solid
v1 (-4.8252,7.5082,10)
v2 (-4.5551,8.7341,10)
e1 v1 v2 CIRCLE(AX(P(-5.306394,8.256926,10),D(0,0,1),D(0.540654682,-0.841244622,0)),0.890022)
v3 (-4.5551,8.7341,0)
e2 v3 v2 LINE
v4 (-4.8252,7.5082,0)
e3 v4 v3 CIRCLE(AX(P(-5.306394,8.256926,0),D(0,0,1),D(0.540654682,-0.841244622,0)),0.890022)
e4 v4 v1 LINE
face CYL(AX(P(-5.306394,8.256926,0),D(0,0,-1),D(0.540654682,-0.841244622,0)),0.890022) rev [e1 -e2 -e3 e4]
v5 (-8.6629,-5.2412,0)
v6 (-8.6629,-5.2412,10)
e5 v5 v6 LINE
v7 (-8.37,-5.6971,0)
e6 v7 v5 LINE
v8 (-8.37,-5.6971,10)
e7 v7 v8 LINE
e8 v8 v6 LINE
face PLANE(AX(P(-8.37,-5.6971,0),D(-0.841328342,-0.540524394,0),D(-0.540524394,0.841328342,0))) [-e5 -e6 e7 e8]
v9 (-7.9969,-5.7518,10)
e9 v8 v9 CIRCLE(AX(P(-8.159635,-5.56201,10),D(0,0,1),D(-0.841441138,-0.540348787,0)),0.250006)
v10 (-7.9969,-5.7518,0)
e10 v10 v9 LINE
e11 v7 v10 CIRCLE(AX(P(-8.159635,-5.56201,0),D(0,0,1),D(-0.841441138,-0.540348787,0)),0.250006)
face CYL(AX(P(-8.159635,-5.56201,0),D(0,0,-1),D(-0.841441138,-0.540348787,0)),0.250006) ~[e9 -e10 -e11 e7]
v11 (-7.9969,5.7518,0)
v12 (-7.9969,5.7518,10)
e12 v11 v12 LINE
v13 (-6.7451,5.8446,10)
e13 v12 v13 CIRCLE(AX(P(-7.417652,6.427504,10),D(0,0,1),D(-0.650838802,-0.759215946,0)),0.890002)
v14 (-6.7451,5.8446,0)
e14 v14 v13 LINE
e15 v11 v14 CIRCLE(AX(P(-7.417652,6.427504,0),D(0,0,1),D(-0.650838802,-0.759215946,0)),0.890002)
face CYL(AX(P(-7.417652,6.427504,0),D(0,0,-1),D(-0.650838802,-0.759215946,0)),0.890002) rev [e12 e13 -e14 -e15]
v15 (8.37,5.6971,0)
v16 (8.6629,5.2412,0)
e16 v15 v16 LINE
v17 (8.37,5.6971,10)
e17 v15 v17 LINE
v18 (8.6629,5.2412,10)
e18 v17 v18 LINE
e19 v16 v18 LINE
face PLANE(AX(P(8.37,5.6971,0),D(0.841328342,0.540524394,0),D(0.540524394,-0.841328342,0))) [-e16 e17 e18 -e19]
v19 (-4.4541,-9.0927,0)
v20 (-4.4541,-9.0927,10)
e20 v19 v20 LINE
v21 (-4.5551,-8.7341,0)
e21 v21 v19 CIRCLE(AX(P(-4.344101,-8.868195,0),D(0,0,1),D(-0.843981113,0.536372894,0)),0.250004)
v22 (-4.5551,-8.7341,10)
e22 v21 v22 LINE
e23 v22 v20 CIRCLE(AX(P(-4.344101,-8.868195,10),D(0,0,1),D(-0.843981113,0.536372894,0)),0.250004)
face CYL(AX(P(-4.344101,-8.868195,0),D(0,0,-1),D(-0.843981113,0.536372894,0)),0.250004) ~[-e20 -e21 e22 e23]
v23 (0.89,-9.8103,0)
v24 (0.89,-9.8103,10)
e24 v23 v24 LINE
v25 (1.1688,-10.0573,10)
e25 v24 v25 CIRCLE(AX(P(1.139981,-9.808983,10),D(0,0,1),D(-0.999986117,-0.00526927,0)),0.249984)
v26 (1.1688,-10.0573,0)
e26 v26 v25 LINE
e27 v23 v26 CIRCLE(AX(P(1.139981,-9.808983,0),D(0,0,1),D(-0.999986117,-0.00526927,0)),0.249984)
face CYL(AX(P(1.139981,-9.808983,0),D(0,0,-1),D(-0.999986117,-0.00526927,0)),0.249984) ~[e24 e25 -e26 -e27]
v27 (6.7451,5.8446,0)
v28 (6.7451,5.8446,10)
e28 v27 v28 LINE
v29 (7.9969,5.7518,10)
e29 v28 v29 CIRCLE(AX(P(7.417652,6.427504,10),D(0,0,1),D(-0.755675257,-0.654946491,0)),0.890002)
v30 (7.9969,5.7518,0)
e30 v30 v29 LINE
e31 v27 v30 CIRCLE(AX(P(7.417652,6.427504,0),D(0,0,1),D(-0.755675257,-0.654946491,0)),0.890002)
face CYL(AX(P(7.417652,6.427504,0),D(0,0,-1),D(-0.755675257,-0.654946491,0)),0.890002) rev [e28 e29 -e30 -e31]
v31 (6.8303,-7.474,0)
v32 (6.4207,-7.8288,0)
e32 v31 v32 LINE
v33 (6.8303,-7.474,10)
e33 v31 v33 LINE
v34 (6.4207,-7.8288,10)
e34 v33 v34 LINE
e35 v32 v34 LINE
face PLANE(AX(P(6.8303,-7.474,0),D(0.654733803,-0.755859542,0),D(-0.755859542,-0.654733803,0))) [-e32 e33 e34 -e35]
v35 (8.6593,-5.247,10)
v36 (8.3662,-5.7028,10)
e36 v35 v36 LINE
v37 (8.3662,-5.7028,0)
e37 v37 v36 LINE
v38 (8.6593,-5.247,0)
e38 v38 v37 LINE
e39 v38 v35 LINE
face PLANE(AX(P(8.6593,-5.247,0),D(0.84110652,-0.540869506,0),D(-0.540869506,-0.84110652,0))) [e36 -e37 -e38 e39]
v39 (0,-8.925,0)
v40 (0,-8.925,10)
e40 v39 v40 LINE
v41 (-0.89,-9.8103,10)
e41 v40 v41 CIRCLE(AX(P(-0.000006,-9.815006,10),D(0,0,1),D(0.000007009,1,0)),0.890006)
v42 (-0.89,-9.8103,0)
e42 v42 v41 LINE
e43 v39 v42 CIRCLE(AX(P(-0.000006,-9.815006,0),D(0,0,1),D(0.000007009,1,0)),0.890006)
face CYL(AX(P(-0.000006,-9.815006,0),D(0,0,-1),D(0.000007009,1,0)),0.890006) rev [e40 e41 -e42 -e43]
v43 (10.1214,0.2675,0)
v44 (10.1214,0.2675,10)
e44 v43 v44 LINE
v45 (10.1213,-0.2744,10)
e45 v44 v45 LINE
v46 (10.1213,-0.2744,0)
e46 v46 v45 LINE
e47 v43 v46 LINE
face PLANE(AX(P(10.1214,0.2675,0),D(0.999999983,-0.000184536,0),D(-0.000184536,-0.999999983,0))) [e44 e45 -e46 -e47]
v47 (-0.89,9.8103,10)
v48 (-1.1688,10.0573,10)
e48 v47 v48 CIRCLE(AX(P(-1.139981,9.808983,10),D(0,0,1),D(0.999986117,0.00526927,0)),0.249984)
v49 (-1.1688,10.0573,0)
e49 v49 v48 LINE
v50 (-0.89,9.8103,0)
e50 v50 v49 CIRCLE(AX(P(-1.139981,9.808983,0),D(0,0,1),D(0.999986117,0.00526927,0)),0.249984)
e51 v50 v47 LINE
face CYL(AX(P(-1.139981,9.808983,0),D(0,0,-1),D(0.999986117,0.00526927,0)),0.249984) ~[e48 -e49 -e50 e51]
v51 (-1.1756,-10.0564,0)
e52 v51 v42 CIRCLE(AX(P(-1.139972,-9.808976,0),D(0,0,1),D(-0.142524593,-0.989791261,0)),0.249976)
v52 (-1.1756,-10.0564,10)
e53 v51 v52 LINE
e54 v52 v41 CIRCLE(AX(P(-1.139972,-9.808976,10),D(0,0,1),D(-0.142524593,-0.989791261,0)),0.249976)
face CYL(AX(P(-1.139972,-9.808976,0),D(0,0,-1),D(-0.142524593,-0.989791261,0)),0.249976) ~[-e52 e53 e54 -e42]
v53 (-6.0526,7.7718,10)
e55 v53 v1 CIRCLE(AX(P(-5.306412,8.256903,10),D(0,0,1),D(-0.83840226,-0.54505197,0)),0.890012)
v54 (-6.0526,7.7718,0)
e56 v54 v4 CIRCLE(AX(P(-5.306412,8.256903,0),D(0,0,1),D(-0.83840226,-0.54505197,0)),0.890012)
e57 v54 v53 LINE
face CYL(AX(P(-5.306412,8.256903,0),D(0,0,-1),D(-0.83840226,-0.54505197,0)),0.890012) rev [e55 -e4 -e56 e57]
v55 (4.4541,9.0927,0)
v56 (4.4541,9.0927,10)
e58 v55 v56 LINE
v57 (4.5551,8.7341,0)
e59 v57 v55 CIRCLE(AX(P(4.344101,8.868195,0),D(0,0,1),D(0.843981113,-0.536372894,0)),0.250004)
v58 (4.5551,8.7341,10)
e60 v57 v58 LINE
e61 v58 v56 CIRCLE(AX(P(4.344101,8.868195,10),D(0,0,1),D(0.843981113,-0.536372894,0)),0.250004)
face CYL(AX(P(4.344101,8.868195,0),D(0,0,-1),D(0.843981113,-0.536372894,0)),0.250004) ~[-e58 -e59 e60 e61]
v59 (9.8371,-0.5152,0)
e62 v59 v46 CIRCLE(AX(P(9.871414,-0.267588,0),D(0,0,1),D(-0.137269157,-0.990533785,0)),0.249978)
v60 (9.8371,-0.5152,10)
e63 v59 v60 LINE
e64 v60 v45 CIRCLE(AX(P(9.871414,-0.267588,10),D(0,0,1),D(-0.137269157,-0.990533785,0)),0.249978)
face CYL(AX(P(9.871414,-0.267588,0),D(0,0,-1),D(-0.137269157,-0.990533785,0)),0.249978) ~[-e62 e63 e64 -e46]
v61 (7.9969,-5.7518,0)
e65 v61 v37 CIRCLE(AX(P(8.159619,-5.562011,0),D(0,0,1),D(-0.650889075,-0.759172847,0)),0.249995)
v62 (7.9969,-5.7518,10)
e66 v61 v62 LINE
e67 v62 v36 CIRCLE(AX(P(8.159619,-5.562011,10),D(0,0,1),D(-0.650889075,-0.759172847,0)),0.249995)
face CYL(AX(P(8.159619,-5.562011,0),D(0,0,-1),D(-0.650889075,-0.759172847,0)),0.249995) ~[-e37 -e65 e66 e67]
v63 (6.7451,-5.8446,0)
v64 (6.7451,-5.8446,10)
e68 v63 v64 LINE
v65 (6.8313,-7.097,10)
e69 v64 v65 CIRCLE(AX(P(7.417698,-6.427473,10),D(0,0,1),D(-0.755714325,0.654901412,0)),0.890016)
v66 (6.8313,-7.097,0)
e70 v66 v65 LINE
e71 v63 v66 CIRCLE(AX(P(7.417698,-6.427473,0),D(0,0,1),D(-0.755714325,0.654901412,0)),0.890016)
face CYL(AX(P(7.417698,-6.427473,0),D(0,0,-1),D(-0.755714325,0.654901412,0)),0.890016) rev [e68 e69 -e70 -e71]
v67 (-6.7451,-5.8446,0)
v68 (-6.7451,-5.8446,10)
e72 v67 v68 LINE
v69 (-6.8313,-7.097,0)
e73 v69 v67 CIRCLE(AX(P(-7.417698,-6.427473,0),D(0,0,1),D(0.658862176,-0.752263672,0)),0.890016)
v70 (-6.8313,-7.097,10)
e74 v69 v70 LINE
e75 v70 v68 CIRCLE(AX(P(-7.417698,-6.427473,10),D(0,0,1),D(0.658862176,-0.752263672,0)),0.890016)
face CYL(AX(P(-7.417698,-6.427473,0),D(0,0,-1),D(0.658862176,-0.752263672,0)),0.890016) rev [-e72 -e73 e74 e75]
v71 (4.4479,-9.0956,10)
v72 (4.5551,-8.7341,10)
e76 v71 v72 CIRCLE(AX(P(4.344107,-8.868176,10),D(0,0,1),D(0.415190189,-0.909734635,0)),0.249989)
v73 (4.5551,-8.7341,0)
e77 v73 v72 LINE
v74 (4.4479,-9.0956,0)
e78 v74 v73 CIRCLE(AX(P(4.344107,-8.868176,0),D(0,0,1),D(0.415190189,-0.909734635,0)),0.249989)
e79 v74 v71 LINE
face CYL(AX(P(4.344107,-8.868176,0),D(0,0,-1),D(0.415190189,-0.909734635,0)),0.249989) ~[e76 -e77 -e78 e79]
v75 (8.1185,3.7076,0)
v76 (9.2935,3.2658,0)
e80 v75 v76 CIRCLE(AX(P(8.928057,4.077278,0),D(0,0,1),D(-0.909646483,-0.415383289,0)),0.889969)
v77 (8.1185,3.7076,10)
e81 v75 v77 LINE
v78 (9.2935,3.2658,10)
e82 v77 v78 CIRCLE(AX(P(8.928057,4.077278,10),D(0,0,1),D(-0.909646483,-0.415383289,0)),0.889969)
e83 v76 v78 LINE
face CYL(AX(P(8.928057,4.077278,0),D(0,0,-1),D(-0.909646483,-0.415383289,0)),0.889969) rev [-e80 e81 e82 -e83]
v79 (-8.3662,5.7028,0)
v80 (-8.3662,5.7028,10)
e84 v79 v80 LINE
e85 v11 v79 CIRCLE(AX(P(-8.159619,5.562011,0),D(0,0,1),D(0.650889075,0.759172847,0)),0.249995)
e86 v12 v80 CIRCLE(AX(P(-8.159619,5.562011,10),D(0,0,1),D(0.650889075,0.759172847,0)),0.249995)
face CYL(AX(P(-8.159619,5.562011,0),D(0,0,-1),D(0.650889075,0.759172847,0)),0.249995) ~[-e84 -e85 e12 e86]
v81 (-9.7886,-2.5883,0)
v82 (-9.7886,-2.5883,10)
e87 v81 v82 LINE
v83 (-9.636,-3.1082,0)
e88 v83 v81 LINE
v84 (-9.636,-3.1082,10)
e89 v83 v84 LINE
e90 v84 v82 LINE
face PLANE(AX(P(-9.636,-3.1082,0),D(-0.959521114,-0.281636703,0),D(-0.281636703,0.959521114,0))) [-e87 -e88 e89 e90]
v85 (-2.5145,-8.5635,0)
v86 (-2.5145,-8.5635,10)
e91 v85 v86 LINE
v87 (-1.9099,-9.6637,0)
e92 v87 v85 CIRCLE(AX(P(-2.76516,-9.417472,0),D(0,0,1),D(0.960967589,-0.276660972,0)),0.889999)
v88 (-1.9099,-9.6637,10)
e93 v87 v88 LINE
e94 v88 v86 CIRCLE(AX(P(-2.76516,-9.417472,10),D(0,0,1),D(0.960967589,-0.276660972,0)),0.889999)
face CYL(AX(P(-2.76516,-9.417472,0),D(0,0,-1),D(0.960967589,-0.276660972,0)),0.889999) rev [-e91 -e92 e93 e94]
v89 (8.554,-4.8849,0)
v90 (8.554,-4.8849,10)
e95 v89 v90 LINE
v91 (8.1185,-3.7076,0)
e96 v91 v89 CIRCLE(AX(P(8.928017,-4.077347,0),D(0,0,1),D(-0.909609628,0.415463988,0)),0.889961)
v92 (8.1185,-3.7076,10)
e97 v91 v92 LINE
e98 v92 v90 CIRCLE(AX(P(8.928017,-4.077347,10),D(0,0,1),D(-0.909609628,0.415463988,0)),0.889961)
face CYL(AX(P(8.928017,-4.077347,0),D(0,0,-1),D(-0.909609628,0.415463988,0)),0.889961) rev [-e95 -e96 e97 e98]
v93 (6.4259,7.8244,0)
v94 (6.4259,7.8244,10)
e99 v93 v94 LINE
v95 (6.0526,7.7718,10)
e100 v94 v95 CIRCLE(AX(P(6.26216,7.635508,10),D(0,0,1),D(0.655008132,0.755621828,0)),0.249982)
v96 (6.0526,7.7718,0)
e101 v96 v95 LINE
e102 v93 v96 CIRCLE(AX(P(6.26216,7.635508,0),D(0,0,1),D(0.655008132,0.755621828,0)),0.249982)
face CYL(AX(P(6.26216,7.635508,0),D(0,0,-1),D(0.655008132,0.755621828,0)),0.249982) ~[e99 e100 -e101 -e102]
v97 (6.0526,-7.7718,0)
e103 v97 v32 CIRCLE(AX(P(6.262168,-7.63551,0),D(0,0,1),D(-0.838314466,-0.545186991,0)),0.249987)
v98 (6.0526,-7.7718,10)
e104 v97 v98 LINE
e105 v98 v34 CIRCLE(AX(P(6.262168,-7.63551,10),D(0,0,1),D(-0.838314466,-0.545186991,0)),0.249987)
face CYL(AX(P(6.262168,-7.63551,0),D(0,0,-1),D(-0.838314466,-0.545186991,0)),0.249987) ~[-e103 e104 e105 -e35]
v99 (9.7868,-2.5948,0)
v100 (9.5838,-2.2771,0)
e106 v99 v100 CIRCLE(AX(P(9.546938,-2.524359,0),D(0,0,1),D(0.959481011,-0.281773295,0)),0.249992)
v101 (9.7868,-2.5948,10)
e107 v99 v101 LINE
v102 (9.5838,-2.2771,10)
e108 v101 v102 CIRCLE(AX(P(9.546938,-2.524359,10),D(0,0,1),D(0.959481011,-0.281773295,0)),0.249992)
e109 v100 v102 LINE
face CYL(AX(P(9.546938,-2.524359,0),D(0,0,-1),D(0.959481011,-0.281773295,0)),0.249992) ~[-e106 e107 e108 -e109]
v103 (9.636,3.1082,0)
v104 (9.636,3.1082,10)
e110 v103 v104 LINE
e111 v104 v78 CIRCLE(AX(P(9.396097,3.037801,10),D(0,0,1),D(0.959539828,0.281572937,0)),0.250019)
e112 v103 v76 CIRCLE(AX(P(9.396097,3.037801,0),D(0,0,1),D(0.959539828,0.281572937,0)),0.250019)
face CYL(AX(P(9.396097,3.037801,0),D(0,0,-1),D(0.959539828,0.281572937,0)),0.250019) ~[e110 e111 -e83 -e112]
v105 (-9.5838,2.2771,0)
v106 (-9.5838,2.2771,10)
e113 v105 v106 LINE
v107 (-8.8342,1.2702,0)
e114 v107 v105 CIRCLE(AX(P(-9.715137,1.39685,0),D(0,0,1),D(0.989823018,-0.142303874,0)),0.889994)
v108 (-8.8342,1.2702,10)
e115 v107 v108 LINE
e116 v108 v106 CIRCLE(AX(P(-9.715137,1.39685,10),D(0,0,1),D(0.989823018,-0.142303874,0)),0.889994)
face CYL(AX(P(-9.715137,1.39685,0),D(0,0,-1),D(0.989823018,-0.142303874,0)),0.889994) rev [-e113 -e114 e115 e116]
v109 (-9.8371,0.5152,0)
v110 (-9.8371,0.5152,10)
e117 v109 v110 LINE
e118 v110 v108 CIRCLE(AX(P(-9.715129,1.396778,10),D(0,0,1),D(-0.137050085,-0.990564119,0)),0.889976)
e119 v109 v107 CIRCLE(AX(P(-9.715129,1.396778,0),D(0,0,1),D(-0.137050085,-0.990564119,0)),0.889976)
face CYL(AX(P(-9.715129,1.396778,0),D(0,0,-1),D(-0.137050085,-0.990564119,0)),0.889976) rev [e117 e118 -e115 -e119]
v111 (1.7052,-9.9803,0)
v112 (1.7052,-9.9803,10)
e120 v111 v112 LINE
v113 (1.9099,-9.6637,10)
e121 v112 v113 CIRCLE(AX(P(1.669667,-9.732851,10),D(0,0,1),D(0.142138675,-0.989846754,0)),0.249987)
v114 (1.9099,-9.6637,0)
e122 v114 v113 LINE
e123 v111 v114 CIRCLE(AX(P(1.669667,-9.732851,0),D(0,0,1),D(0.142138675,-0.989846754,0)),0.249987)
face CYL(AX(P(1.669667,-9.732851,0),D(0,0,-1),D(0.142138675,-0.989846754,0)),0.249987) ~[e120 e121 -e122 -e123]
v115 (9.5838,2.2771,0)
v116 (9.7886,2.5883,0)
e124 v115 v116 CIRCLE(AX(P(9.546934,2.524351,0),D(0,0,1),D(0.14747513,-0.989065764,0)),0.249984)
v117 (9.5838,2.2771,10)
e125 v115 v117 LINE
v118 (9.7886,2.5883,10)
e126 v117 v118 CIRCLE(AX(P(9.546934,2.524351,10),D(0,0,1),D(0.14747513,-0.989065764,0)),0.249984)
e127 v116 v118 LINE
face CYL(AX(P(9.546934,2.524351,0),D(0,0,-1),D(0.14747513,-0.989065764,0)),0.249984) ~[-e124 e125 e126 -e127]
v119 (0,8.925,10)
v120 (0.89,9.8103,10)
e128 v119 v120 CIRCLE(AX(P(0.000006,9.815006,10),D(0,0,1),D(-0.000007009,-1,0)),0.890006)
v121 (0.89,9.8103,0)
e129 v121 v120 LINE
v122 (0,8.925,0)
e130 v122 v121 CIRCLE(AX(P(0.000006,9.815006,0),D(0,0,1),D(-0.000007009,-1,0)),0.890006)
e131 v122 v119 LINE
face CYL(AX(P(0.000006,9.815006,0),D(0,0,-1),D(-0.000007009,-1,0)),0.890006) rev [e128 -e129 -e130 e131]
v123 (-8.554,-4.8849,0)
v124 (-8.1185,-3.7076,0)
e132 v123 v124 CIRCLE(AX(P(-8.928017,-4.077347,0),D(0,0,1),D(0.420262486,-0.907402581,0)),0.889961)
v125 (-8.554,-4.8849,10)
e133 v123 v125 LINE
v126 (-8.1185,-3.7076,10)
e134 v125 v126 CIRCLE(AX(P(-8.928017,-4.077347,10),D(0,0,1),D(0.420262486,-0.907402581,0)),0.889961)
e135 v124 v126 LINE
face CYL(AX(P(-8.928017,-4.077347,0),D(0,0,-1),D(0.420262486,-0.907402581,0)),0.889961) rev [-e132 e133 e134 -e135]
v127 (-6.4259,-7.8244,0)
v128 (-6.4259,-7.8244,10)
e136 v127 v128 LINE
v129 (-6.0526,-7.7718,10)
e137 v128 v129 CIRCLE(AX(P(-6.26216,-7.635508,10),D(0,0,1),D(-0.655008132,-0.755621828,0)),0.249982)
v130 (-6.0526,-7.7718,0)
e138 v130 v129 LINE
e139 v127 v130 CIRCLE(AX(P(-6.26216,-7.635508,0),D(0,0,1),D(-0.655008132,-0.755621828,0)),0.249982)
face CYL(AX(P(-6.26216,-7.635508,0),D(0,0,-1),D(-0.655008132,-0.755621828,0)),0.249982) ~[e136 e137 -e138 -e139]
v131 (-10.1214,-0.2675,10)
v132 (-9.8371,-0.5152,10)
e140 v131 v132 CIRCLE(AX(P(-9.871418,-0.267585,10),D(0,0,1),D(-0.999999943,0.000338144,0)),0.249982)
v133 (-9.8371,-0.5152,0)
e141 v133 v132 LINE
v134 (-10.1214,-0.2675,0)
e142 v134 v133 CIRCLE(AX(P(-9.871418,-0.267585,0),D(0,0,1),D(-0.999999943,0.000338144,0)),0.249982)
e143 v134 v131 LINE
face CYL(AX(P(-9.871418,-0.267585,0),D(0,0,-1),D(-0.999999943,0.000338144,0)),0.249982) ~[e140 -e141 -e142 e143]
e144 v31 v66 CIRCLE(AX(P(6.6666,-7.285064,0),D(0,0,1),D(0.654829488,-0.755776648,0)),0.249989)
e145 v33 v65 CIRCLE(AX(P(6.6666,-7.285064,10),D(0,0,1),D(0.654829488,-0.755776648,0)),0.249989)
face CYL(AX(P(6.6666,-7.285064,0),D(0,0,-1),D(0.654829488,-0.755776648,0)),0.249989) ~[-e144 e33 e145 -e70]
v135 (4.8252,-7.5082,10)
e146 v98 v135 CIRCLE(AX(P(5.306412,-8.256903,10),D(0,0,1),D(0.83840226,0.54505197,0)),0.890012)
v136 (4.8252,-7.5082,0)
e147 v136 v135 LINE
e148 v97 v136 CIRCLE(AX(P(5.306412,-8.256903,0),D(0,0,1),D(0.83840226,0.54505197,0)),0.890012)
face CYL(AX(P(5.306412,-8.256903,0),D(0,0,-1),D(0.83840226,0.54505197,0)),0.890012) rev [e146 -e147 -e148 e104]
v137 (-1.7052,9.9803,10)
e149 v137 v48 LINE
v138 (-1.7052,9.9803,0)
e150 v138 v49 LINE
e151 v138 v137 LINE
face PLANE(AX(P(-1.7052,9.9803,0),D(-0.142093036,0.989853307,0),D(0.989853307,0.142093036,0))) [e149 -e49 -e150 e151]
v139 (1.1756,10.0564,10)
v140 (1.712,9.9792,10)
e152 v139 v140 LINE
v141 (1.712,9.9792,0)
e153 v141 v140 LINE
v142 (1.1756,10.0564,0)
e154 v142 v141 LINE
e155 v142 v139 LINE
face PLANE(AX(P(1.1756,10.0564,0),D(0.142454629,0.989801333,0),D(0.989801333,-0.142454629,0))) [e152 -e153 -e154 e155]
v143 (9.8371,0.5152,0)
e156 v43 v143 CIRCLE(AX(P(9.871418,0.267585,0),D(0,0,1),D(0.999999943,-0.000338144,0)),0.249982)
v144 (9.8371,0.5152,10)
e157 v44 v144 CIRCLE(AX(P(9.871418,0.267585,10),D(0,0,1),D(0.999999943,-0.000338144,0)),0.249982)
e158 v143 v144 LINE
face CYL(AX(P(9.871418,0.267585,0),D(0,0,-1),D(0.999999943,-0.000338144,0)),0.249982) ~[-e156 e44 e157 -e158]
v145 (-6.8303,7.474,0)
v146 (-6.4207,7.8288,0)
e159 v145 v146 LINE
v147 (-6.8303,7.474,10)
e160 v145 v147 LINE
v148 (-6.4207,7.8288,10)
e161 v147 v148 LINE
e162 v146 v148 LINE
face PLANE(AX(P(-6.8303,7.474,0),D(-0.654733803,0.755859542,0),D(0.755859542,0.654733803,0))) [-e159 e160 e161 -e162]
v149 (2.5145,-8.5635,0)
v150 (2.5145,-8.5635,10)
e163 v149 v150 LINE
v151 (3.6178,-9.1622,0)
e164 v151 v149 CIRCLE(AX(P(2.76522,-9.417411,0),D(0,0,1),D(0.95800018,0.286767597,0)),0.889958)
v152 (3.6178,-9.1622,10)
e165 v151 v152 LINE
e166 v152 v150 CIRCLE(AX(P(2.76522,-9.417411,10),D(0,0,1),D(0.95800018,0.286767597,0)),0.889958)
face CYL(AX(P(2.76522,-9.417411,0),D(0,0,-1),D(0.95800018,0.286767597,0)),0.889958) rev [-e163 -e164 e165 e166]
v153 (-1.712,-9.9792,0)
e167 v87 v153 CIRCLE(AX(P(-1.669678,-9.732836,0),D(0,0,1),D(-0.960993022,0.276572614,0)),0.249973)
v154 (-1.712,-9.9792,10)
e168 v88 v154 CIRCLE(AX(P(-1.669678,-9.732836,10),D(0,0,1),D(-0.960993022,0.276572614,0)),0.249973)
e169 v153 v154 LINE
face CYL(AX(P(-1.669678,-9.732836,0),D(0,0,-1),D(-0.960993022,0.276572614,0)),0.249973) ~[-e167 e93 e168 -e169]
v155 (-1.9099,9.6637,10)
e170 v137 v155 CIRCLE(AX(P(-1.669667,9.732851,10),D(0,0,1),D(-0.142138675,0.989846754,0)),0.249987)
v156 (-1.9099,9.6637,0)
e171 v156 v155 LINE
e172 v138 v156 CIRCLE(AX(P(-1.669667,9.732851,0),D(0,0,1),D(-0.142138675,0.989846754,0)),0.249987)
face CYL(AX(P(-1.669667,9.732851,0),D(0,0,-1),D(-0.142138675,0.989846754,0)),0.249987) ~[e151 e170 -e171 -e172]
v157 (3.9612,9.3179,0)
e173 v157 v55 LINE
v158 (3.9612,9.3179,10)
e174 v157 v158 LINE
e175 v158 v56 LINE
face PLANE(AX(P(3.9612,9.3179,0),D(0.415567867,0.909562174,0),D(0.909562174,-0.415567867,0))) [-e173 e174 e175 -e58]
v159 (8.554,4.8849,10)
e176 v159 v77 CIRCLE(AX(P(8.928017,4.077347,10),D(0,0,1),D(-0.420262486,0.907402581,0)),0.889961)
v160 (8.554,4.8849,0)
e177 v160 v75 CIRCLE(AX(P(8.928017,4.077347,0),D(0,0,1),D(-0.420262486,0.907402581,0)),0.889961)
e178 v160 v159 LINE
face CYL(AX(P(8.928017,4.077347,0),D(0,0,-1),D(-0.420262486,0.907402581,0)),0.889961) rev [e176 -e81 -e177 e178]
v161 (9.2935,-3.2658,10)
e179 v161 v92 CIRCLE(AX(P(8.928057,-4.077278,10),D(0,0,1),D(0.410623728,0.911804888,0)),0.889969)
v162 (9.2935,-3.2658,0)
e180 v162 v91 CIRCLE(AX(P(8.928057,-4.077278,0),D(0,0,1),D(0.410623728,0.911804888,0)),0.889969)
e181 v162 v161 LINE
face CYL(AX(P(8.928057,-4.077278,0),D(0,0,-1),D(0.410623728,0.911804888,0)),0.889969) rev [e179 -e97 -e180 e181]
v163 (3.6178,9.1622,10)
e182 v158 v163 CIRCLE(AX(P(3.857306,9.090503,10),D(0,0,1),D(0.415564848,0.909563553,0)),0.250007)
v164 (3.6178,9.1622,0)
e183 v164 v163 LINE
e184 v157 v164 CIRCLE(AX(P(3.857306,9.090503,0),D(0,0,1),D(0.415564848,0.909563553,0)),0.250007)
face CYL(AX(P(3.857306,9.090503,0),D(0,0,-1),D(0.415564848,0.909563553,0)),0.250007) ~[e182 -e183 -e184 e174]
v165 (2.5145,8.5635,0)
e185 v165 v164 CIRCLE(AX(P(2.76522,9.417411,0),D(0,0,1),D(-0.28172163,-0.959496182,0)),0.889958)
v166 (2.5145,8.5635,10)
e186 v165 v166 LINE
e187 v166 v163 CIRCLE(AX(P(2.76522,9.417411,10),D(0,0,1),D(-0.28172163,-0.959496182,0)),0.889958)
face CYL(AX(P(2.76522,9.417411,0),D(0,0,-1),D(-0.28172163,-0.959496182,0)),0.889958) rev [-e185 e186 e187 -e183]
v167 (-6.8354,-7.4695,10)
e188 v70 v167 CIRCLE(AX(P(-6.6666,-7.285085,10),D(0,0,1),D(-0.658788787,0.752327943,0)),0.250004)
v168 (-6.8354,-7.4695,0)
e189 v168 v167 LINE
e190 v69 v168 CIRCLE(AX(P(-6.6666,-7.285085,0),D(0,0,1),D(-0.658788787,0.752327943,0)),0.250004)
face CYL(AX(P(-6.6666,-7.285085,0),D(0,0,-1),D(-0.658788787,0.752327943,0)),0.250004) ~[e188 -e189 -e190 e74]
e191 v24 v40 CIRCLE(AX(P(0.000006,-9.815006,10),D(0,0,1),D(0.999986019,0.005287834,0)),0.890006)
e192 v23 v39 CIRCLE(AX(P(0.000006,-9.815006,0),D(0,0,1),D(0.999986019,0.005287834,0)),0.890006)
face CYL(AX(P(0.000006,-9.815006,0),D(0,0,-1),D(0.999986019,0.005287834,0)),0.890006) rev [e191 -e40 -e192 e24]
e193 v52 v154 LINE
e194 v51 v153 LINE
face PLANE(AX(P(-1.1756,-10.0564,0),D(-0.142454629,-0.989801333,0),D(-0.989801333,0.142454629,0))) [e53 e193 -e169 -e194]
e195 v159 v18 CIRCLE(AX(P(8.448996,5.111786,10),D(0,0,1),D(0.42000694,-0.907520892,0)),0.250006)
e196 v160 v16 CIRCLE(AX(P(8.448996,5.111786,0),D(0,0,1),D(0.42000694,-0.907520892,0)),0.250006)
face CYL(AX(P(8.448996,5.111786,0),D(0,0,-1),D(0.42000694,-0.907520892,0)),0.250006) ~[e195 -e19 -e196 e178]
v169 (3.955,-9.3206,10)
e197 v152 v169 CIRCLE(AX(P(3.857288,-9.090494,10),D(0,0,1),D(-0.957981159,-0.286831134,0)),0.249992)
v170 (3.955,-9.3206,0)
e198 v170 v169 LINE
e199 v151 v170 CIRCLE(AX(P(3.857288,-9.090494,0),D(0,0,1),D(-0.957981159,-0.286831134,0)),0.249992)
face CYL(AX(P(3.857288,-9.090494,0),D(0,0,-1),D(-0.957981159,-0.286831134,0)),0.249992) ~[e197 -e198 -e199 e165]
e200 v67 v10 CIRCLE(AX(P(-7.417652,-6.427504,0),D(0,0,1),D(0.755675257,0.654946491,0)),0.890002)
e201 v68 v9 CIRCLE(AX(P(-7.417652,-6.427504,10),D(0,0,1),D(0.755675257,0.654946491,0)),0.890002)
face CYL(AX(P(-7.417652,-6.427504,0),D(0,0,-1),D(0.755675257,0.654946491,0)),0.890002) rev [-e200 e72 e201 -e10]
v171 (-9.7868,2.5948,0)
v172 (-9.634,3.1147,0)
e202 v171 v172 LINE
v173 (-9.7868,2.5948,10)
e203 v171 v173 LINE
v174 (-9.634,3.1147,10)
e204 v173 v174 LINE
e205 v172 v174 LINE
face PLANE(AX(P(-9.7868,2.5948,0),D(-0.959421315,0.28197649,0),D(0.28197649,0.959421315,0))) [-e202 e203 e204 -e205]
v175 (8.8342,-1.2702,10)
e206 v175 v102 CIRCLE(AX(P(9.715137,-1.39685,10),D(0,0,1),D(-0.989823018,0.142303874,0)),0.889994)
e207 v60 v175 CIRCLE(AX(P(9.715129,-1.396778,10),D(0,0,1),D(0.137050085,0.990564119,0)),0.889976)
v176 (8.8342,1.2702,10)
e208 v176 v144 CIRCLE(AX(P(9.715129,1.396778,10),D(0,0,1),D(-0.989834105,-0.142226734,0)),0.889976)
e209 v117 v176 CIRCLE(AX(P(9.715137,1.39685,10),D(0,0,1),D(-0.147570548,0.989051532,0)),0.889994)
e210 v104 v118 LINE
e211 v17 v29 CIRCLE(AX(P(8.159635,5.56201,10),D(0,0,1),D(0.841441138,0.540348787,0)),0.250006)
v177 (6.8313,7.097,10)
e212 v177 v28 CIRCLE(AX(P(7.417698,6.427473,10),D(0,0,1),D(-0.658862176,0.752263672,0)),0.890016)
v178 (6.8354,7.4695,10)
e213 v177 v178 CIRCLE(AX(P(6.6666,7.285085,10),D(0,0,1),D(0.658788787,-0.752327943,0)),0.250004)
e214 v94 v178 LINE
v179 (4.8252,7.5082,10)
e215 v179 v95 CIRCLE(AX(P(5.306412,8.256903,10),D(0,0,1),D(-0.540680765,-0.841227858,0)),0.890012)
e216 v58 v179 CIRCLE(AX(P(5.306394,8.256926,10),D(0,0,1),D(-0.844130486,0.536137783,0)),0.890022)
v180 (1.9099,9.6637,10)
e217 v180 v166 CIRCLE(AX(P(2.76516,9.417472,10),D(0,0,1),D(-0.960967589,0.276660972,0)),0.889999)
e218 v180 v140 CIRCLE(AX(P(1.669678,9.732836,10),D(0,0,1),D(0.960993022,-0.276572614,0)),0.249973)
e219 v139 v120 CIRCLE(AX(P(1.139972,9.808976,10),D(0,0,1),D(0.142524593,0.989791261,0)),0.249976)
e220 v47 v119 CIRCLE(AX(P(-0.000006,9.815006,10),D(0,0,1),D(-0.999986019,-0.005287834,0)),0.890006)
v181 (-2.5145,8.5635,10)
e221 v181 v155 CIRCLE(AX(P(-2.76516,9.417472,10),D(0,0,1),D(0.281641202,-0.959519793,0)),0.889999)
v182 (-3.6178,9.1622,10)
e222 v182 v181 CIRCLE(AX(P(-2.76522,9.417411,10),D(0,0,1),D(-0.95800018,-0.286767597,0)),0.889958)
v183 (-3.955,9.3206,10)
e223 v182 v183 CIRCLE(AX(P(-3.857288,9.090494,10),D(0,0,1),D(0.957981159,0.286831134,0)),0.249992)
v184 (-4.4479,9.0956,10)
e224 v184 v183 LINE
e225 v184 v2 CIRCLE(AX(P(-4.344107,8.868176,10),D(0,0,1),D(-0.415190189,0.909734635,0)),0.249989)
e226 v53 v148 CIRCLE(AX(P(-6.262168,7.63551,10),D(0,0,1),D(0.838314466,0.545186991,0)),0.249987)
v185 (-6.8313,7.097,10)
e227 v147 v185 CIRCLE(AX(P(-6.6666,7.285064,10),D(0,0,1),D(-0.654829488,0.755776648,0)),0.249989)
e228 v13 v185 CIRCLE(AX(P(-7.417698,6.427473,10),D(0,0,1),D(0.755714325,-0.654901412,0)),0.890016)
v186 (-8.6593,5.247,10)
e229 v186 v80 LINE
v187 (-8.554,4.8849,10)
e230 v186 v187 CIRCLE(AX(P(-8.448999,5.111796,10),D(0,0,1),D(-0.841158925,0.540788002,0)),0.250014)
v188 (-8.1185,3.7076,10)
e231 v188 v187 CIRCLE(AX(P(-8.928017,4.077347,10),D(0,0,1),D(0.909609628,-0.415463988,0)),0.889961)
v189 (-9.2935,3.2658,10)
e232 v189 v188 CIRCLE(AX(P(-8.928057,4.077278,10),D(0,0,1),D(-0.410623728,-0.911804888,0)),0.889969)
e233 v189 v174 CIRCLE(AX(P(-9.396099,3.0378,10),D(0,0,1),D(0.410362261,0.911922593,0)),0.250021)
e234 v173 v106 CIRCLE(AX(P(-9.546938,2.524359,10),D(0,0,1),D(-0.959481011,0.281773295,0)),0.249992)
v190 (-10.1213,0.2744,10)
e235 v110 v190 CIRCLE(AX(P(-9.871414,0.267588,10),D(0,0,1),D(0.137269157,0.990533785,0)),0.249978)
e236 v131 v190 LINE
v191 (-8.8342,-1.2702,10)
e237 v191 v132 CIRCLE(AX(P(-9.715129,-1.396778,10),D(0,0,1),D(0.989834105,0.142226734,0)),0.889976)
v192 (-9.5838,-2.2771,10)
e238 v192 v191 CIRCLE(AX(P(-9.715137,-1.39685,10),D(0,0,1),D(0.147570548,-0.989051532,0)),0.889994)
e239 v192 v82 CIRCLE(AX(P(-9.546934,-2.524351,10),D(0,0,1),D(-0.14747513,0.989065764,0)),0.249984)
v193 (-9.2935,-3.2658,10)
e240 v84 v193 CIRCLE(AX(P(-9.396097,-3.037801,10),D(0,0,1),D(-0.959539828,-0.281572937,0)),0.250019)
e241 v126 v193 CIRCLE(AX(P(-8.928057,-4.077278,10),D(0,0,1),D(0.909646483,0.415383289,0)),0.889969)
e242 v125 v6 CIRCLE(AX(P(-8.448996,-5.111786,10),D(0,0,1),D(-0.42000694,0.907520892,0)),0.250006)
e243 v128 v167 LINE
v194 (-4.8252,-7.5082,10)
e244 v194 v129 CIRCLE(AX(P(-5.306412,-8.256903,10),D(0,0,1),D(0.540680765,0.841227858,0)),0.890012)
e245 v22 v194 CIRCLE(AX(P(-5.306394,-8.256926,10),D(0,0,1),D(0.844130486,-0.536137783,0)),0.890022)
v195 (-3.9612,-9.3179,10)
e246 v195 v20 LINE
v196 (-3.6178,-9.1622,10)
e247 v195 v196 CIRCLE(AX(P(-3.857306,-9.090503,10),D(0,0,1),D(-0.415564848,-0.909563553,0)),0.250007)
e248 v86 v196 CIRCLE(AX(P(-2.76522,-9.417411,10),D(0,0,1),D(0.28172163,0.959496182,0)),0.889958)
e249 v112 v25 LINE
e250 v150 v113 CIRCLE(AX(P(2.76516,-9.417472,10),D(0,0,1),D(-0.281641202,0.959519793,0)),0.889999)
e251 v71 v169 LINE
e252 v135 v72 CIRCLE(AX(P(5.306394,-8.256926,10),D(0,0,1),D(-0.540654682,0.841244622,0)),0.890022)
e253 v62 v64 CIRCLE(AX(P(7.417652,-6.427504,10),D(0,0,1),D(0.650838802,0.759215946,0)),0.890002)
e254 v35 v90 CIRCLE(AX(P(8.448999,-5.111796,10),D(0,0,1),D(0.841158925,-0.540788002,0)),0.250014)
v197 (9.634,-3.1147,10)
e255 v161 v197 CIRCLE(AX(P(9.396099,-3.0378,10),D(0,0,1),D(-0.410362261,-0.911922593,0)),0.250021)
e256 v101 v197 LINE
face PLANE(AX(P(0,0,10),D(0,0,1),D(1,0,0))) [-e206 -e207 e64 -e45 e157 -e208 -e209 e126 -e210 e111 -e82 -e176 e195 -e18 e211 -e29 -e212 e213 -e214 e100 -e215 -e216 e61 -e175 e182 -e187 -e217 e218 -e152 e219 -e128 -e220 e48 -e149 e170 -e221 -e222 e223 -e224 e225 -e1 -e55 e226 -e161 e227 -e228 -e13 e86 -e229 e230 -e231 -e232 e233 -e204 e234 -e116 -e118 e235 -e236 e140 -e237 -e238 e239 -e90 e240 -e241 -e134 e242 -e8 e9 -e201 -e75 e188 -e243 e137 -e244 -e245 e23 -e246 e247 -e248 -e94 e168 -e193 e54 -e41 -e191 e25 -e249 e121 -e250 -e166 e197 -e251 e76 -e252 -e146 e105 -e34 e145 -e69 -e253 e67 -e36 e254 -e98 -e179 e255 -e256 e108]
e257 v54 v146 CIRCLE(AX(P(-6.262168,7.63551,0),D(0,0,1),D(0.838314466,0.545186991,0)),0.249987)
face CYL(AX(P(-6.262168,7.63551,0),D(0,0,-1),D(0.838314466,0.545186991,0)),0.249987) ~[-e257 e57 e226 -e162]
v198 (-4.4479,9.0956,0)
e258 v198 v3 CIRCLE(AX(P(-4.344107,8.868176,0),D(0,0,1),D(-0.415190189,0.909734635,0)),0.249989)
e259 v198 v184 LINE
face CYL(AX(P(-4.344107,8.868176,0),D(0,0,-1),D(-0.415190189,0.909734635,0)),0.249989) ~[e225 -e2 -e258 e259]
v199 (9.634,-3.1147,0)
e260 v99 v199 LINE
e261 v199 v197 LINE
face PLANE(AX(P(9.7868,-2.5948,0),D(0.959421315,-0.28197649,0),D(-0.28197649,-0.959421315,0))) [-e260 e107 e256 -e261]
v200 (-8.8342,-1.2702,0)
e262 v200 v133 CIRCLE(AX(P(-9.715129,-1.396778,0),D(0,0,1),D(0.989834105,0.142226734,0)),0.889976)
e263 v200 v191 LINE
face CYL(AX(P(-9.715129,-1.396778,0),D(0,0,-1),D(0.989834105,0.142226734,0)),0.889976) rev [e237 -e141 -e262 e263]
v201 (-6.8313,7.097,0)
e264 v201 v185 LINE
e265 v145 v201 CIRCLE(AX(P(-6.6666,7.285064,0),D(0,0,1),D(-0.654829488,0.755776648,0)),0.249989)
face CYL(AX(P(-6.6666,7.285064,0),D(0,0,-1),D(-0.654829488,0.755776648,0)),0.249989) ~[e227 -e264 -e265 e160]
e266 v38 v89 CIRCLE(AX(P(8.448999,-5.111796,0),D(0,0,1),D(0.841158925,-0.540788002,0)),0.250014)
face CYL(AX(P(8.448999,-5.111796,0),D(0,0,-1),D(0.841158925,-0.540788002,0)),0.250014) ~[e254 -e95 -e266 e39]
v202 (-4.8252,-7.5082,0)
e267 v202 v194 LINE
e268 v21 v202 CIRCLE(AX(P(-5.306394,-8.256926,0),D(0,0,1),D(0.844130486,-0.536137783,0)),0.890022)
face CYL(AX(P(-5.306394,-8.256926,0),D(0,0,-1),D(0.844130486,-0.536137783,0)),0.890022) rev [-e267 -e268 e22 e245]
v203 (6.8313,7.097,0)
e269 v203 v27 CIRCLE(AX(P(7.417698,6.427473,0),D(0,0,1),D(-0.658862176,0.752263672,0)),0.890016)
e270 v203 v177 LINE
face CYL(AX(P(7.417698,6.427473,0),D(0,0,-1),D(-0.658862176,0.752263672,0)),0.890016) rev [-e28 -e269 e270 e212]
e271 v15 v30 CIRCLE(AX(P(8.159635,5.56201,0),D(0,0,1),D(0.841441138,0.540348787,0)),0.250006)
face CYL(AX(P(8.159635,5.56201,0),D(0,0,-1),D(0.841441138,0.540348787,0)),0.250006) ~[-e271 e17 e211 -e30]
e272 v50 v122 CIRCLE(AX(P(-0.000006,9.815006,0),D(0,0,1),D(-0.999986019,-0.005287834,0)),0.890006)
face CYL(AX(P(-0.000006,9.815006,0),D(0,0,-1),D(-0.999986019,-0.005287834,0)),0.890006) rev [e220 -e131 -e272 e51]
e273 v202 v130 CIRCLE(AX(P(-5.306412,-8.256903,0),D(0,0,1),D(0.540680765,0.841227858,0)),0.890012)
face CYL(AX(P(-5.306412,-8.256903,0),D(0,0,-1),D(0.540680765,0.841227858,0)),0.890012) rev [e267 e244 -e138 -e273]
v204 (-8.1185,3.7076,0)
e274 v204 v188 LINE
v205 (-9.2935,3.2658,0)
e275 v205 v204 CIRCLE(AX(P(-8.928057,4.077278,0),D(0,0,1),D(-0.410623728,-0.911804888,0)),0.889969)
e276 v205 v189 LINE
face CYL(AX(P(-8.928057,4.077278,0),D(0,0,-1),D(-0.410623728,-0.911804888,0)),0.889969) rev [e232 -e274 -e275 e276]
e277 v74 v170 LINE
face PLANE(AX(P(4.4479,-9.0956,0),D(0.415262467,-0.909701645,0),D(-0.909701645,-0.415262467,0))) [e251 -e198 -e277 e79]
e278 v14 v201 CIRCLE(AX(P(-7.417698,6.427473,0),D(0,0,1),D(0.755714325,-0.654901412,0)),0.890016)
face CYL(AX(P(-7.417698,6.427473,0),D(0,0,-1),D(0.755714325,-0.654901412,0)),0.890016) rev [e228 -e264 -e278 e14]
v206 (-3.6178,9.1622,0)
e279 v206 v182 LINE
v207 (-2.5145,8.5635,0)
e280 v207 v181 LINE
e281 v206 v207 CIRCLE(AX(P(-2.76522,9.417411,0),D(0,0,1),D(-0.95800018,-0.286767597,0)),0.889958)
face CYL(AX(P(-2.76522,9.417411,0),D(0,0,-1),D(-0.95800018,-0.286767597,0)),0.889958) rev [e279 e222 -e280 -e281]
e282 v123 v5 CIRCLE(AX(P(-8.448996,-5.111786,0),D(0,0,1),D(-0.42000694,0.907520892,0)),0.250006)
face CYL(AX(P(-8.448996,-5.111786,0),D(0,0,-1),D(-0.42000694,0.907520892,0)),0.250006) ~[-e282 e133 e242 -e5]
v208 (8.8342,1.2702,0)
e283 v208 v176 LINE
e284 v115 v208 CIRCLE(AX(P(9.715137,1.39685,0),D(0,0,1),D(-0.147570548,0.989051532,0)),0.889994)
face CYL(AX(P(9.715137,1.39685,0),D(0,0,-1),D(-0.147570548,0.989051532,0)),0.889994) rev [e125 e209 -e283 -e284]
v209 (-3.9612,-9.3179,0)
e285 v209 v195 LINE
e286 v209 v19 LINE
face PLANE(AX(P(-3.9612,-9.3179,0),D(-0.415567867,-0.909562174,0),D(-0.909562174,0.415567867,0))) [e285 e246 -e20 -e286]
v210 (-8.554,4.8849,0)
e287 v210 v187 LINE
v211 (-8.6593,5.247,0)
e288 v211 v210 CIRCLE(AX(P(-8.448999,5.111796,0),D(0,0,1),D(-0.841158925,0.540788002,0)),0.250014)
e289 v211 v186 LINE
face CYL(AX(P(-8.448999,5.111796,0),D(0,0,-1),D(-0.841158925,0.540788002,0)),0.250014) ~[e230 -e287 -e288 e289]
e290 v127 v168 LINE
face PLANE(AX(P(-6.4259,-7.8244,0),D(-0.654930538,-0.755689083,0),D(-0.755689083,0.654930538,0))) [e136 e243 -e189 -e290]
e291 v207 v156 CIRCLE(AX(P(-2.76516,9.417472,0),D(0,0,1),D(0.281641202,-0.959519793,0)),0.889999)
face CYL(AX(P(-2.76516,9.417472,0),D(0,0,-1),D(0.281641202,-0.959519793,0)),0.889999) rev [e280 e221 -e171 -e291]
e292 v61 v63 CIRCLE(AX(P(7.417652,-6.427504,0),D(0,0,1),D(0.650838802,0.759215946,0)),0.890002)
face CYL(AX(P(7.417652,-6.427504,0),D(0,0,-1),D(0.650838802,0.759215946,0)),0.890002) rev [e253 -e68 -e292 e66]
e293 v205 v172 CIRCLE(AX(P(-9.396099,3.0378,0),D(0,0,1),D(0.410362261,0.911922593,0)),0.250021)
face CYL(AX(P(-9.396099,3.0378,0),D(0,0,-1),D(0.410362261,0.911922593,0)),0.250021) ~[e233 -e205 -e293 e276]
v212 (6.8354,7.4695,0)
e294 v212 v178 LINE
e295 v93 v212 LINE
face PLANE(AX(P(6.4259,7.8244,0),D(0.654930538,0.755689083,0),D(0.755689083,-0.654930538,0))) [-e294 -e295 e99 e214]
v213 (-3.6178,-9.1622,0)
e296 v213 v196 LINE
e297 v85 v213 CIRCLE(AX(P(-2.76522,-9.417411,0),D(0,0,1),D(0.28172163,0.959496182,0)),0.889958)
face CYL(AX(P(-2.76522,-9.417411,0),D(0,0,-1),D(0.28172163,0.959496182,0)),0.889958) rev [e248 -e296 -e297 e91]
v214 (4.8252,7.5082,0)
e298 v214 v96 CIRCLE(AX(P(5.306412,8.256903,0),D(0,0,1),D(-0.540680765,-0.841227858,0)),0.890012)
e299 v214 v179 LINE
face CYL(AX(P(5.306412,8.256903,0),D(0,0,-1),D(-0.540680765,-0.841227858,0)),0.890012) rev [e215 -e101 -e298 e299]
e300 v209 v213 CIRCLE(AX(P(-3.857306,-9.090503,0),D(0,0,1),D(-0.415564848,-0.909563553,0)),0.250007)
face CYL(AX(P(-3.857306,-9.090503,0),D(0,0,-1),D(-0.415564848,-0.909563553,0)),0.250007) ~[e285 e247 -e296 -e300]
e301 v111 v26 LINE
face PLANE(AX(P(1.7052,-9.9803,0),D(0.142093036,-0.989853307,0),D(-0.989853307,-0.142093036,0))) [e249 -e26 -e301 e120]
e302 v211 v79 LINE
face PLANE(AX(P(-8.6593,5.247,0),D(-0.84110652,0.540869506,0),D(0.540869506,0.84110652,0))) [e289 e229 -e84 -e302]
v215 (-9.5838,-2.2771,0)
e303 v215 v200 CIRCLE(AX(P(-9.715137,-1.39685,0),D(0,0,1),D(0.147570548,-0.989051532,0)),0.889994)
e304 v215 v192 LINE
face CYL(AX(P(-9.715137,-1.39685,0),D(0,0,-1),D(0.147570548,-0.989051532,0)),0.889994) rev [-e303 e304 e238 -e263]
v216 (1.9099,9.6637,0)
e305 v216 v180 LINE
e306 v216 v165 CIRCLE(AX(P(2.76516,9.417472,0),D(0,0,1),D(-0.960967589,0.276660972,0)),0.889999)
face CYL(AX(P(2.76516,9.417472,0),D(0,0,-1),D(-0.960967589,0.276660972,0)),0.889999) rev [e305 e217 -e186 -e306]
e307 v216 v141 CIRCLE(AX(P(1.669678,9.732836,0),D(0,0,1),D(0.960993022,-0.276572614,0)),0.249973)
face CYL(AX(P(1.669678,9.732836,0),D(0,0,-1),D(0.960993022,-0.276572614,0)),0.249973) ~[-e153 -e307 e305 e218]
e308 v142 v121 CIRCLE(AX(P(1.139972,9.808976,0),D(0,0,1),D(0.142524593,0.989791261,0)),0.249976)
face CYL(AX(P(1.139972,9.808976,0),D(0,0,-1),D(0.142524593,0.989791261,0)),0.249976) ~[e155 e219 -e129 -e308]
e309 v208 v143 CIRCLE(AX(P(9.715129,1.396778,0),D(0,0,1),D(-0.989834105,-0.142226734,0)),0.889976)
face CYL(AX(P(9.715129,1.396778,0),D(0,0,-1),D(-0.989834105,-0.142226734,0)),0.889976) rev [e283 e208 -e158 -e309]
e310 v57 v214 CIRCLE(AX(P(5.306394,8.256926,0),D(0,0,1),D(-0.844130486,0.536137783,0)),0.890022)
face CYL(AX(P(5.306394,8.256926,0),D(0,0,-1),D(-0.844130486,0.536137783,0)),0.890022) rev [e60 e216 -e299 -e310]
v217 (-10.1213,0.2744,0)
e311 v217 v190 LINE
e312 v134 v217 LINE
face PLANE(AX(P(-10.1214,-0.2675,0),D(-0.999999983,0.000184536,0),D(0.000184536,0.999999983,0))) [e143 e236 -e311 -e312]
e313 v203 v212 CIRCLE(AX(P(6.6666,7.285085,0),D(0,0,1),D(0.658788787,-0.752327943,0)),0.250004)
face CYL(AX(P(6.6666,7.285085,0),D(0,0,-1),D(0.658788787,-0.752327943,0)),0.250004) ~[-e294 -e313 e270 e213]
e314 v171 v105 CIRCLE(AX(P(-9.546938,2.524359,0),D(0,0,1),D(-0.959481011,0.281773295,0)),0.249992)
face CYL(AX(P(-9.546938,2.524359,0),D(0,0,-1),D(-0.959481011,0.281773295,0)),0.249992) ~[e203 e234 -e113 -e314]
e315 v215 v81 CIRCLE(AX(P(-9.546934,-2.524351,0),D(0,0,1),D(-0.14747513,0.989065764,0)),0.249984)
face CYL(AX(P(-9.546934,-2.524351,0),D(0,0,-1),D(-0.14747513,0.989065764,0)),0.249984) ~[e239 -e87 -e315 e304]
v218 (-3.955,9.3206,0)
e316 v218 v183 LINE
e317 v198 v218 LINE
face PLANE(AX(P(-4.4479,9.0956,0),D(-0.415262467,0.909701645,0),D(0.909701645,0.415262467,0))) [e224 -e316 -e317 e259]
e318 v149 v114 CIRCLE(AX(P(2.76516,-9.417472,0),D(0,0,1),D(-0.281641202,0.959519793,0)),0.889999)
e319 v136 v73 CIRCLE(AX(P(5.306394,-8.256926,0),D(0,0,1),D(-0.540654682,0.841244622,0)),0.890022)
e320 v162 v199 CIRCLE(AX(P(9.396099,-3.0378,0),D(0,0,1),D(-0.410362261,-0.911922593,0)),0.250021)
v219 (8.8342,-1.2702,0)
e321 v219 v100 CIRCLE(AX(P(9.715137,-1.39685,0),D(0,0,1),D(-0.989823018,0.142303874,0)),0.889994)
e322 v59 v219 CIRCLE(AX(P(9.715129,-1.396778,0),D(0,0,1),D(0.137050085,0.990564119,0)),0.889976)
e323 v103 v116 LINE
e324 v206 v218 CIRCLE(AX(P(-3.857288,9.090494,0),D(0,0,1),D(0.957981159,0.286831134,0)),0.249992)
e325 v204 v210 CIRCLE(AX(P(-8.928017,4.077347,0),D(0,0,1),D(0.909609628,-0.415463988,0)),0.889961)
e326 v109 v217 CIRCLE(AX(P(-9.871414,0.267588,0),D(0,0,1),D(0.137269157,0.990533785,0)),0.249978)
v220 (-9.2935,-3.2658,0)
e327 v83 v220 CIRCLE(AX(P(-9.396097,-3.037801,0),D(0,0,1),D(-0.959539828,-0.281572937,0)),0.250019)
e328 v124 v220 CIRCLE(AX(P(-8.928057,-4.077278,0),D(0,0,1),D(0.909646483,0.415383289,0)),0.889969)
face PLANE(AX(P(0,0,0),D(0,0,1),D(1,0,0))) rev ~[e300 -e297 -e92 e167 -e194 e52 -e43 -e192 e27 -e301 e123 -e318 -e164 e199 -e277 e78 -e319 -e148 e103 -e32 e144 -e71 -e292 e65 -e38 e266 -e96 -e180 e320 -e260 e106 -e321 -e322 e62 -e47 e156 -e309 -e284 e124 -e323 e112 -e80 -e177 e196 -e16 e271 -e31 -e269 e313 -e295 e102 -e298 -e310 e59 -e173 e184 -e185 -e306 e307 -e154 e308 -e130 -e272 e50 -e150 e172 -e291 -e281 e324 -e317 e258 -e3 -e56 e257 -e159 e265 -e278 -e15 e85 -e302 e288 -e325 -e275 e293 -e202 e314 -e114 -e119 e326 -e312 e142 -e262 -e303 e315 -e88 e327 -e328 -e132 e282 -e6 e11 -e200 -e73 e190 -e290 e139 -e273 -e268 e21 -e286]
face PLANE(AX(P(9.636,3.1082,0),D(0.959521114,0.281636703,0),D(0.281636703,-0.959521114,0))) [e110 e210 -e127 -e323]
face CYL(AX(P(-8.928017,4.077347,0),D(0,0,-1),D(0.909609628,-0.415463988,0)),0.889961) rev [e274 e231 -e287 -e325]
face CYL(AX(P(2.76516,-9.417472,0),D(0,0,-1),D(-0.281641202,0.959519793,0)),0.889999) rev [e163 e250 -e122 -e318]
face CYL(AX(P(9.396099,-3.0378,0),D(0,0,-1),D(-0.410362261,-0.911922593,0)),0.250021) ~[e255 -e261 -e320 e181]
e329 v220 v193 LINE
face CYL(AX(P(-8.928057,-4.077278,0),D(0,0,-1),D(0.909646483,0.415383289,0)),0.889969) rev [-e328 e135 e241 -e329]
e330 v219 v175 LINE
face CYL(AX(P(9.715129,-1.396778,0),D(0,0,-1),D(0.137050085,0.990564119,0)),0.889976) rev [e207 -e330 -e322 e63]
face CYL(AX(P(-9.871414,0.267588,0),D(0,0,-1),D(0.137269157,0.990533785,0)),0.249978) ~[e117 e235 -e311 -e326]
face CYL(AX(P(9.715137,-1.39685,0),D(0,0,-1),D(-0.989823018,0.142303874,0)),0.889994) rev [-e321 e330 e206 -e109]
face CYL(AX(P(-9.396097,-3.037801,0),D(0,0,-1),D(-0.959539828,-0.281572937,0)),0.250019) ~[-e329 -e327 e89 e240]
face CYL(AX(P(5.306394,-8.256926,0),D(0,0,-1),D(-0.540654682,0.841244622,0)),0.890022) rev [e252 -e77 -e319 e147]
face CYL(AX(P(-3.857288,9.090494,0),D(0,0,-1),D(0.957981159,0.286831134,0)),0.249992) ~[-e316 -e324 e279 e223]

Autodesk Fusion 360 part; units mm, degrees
sketch "Sketch1" plane through (0, 0, 0) normal (0, 0, 1) x (1, 0, 0) in component "22T Pulley"
  circle A0 centre (0, 0) radius 10.125 construction
  circle A1 centre (0, 0) radius 8.925 construction
  line L0 (0, 0) -> (0, 8.925) construction
  circle A2 centre (0, 9.815) radius 0.89 construction
  circle A3 centre (1.14, 9.809) radius 0.25 construction
  line L1 (0, 0) -> (3.8847, 13.2301) construction
  line L2 (0, 0) -> (13.7887, 0) construction
  circle A4 centre (2.7652, 9.4174) radius 0.89 construction
  circle A5 centre (1.6697, 9.7328) radius 0.25 construction
  arc A6 (0, 8.925) -> (0.89, 9.8103) centre (0, 9.815) ccw
  arc A7 (1.9099, 9.6637) -> (2.5145, 8.5635) centre (2.7652, 9.4174) ccw
  arc A8 (1.9099, 9.6637) -> (1.712, 9.9792) centre (1.6697, 9.7328) ccw
  arc A9 (1.1756, 10.0564) -> (0.89, 9.8103) centre (1.14, 9.809) ccw
  line L3 (1.1756, 10.0564) -> (1.712, 9.9792)
  arc A10 (-2.5145, 8.5635) -> (-1.9099, 9.6637) centre (-2.7652, 9.4174) ccw
  arc A11 (-1.7052, 9.9803) -> (-1.9099, 9.6637) centre (-1.6697, 9.7328) ccw
  line L4 (-1.7052, 9.9803) -> (-1.1688, 10.0573)
  arc A12 (-0.89, 9.8103) -> (-1.1688, 10.0573) centre (-1.14, 9.809) ccw
  arc A13 (-0.89, 9.8103) -> (0, 8.925) centre (0, 9.815) ccw
  arc A14 (-4.8252, 7.5082) -> (-4.5551, 8.7341) centre (-5.3064, 8.2569) ccw
  arc A15 (-4.4479, 9.0956) -> (-4.5551, 8.7341) centre (-4.3441, 8.8682) ccw
  line L5 (-4.4479, 9.0956) -> (-3.955, 9.3206)
  arc A16 (-3.6178, 9.1622) -> (-3.955, 9.3206) centre (-3.8573, 9.0905) ccw
  arc A17 (-3.6178, 9.1622) -> (-2.5145, 8.5635) centre (-2.7652, 9.4174) ccw
  arc A18 (-6.7451, 5.8446) -> (-6.8313, 7.097) centre (-7.4177, 6.4275) ccw
  arc A19 (-6.8303, 7.474) -> (-6.8313, 7.097) centre (-6.6666, 7.2851) ccw
  line L6 (-6.8303, 7.474) -> (-6.4207, 7.8288)
  arc A20 (-6.0526, 7.7718) -> (-6.4207, 7.8288) centre (-6.2621, 7.6355) ccw
  arc A21 (-6.0526, 7.7718) -> (-4.8252, 7.5082) centre (-5.3064, 8.2569) ccw
  arc A22 (-8.1185, 3.7076) -> (-8.554, 4.8849) centre (-8.928, 4.0773) ccw
  arc A23 (-8.6593, 5.247) -> (-8.554, 4.8849) centre (-8.449, 5.1118) ccw
  line L7 (-8.6593, 5.247) -> (-8.3662, 5.7028)
  arc A24 (-7.9969, 5.7518) -> (-8.3662, 5.7028) centre (-8.1597, 5.562) ccw
  arc A25 (-7.9969, 5.7518) -> (-6.7451, 5.8446) centre (-7.4177, 6.4275) ccw
  arc A26 (-8.8342, 1.2702) -> (-9.5838, 2.2771) centre (-9.7151, 1.3968) ccw
  arc A27 (-9.7868, 2.5948) -> (-9.5838, 2.2771) centre (-9.5469, 2.5243) ccw
  line L8 (-9.7868, 2.5948) -> (-9.634, 3.1147)
  arc A28 (-9.2935, 3.2658) -> (-9.634, 3.1147) centre (-9.3961, 3.0378) ccw
  arc A29 (-9.2935, 3.2658) -> (-8.1185, 3.7076) centre (-8.928, 4.0773) ccw
  arc A30 (-8.8342, -1.2702) -> (-9.8371, -0.5152) centre (-9.7151, -1.3968) ccw
  arc A31 (-10.1214, -0.2675) -> (-9.8371, -0.5152) centre (-9.8714, -0.2676) ccw
  line L9 (-10.1214, -0.2675) -> (-10.1213, 0.2744)
  arc A32 (-9.8371, 0.5152) -> (-10.1213, 0.2744) centre (-9.8714, 0.2676) ccw
  arc A33 (-9.8371, 0.5152) -> (-8.8342, 1.2702) centre (-9.7151, 1.3968) ccw
  arc A34 (-8.1185, -3.7076) -> (-9.2935, -3.2658) centre (-8.928, -4.0773) ccw
  arc A35 (-9.636, -3.1082) -> (-9.2935, -3.2658) centre (-9.3961, -3.0378) ccw
  line L10 (-9.636, -3.1082) -> (-9.7886, -2.5883)
  arc A36 (-9.5838, -2.2771) -> (-9.7886, -2.5883) centre (-9.5469, -2.5243) ccw
  arc A37 (-9.5838, -2.2771) -> (-8.8342, -1.2702) centre (-9.7151, -1.3968) ccw
  arc A38 (-6.7451, -5.8446) -> (-7.9969, -5.7518) centre (-7.4177, -6.4275) ccw
  arc A39 (-8.37, -5.6971) -> (-7.9969, -5.7518) centre (-8.1597, -5.562) ccw
  line L11 (-8.37, -5.6971) -> (-8.6629, -5.2412)
  arc A40 (-8.554, -4.8849) -> (-8.6629, -5.2412) centre (-8.449, -5.1118) ccw
  arc A41 (-8.554, -4.8849) -> (-8.1185, -3.7076) centre (-8.928, -4.0773) ccw
  arc A42 (-4.8252, -7.5082) -> (-6.0526, -7.7718) centre (-5.3064, -8.2569) ccw
  arc A43 (-6.4259, -7.8244) -> (-6.0526, -7.7718) centre (-6.2621, -7.6355) ccw
  line L12 (-6.4259, -7.8244) -> (-6.8354, -7.4695)
  arc A44 (-6.8313, -7.097) -> (-6.8354, -7.4695) centre (-6.6666, -7.2851) ccw
  arc A45 (-6.8313, -7.097) -> (-6.7451, -5.8446) centre (-7.4177, -6.4275) ccw
  arc A46 (-2.5145, -8.5635) -> (-3.6178, -9.1622) centre (-2.7652, -9.4174) ccw
  arc A47 (-3.9612, -9.3179) -> (-3.6178, -9.1622) centre (-3.8573, -9.0905) ccw
  line L13 (-3.9612, -9.3179) -> (-4.4541, -9.0927)
  arc A48 (-4.5551, -8.7341) -> (-4.4541, -9.0927) centre (-4.3441, -8.8682) ccw
  arc A49 (-4.5551, -8.7341) -> (-4.8252, -7.5082) centre (-5.3064, -8.2569) ccw
  arc A50 (0, -8.925) -> (-0.89, -9.8103) centre (0, -9.815) ccw
  arc A51 (-1.1756, -10.0564) -> (-0.89, -9.8103) centre (-1.14, -9.809) ccw
  line L14 (-1.1756, -10.0564) -> (-1.712, -9.9792)
  arc A52 (-1.9099, -9.6637) -> (-1.712, -9.9792) centre (-1.6697, -9.7328) ccw
  arc A53 (-1.9099, -9.6637) -> (-2.5145, -8.5635) centre (-2.7652, -9.4174) ccw
  arc A54 (2.5145, -8.5635) -> (1.9099, -9.6637) centre (2.7652, -9.4174) ccw
  arc A55 (1.7052, -9.9803) -> (1.9099, -9.6637) centre (1.6697, -9.7328) ccw
  line L15 (1.7052, -9.9803) -> (1.1688, -10.0573)
  arc A56 (0.89, -9.8103) -> (1.1688, -10.0573) centre (1.14, -9.809) ccw
  arc A57 (0.89, -9.8103) -> (0, -8.925) centre (0, -9.815) ccw
  arc A58 (4.8252, -7.5082) -> (4.5551, -8.7341) centre (5.3064, -8.2569) ccw
  arc A59 (4.4479, -9.0956) -> (4.5551, -8.7341) centre (4.3441, -8.8682) ccw
  line L16 (4.4479, -9.0956) -> (3.955, -9.3206)
  arc A60 (3.6178, -9.1622) -> (3.955, -9.3206) centre (3.8573, -9.0905) ccw
  arc A61 (3.6178, -9.1622) -> (2.5145, -8.5635) centre (2.7652, -9.4174) ccw
  arc A62 (6.7451, -5.8446) -> (6.8313, -7.097) centre (7.4177, -6.4275) ccw
  arc A63 (6.8303, -7.474) -> (6.8313, -7.097) centre (6.6666, -7.2851) ccw
  line L17 (6.8303, -7.474) -> (6.4207, -7.8288)
  arc A64 (6.0526, -7.7718) -> (6.4207, -7.8288) centre (6.2621, -7.6355) ccw
  arc A65 (6.0526, -7.7718) -> (4.8252, -7.5082) centre (5.3064, -8.2569) ccw
  arc A66 (8.1185, -3.7076) -> (8.554, -4.8849) centre (8.928, -4.0773) ccw
  arc A67 (8.6593, -5.247) -> (8.554, -4.8849) centre (8.449, -5.1118) ccw
  line L18 (8.6593, -5.247) -> (8.3662, -5.7028)
  arc A68 (7.9969, -5.7518) -> (8.3662, -5.7028) centre (8.1597, -5.562) ccw
  arc A69 (7.9969, -5.7518) -> (6.7451, -5.8446) centre (7.4177, -6.4275) ccw
  arc A70 (8.8342, -1.2702) -> (9.5838, -2.2771) centre (9.7151, -1.3968) ccw
  arc A71 (9.7868, -2.5948) -> (9.5838, -2.2771) centre (9.5469, -2.5243) ccw
  line L19 (9.7868, -2.5948) -> (9.634, -3.1147)
  arc A72 (9.2935, -3.2658) -> (9.634, -3.1147) centre (9.3961, -3.0378) ccw
  arc A73 (9.2935, -3.2658) -> (8.1185, -3.7076) centre (8.928, -4.0773) ccw
  arc A74 (8.8342, 1.2702) -> (9.8371, 0.5152) centre (9.7151, 1.3968) ccw
  arc A75 (10.1214, 0.2675) -> (9.8371, 0.5152) centre (9.8714, 0.2676) ccw
  line L20 (10.1214, 0.2675) -> (10.1213, -0.2744)
  arc A76 (9.8371, -0.5152) -> (10.1213, -0.2744) centre (9.8714, -0.2676) ccw
  arc A77 (9.8371, -0.5152) -> (8.8342, -1.2702) centre (9.7151, -1.3968) ccw
  arc A78 (8.1185, 3.7076) -> (9.2935, 3.2658) centre (8.928, 4.0773) ccw
  arc A79 (9.636, 3.1082) -> (9.2935, 3.2658) centre (9.3961, 3.0378) ccw
  line L21 (9.636, 3.1082) -> (9.7886, 2.5883)
  arc A80 (9.5838, 2.2771) -> (9.7886, 2.5883) centre (9.5469, 2.5243) ccw
  arc A81 (9.5838, 2.2771) -> (8.8342, 1.2702) centre (9.7151, 1.3968) ccw
  arc A82 (6.7451, 5.8446) -> (7.9969, 5.7518) centre (7.4177, 6.4275) ccw
  arc A83 (8.37, 5.6971) -> (7.9969, 5.7518) centre (8.1597, 5.562) ccw
  line L22 (8.37, 5.6971) -> (8.6629, 5.2412)
  arc A84 (8.554, 4.8849) -> (8.6629, 5.2412) centre (8.449, 5.1118) ccw
  arc A85 (8.554, 4.8849) -> (8.1185, 3.7076) centre (8.928, 4.0773) ccw
  arc A86 (4.8252, 7.5082) -> (6.0526, 7.7718) centre (5.3064, 8.2569) ccw
  arc A87 (6.4259, 7.8244) -> (6.0526, 7.7718) centre (6.2621, 7.6355) ccw
  line L23 (6.4259, 7.8244) -> (6.8354, 7.4695)
  arc A88 (6.8313, 7.097) -> (6.8354, 7.4695) centre (6.6666, 7.2851) ccw
  arc A89 (6.8313, 7.097) -> (6.7451, 5.8446) centre (7.4177, 6.4275) ccw
  arc A90 (2.5145, 8.5635) -> (3.6178, 9.1622) centre (2.7652, 9.4174) ccw
  arc A91 (3.9612, 9.3179) -> (3.6178, 9.1622) centre (3.8573, 9.0905) ccw
  line L24 (3.9612, 9.3179) -> (4.4541, 9.0927)
  arc A92 (4.5551, 8.7341) -> (4.4541, 9.0927) centre (4.3441, 8.8682) ccw
  arc A93 (4.5551, 8.7341) -> (4.8252, 7.5082) centre (5.3064, 8.2569) ccw
  dimension "d1" = 20.25
  dimension "d2" = 17.85
  dimension "d3" = 1.78
  dimension "d4" = 0.5
  dimension "d5" = 73.636
  dimension "d6" = 1.78
  dimension "d7" = 0.5
  dimension "d8" = 2.7936
  dimension "d10" = 360
extrude "Extrude1" add sketch "Sketch1" along normal blind 10
component "22T Pulley" placed x (1, 0, 0) y (0, 1, 0) z (0, 0, 1) at (0, 0, 0)
equation "d2 = d1 - ( ( 2 * 1.2 ) * 1 mm )"
equation "d5 = 90 deg - 16.36363636363636 deg"
equation "d6 = d3"
equation "d7 = d4"
